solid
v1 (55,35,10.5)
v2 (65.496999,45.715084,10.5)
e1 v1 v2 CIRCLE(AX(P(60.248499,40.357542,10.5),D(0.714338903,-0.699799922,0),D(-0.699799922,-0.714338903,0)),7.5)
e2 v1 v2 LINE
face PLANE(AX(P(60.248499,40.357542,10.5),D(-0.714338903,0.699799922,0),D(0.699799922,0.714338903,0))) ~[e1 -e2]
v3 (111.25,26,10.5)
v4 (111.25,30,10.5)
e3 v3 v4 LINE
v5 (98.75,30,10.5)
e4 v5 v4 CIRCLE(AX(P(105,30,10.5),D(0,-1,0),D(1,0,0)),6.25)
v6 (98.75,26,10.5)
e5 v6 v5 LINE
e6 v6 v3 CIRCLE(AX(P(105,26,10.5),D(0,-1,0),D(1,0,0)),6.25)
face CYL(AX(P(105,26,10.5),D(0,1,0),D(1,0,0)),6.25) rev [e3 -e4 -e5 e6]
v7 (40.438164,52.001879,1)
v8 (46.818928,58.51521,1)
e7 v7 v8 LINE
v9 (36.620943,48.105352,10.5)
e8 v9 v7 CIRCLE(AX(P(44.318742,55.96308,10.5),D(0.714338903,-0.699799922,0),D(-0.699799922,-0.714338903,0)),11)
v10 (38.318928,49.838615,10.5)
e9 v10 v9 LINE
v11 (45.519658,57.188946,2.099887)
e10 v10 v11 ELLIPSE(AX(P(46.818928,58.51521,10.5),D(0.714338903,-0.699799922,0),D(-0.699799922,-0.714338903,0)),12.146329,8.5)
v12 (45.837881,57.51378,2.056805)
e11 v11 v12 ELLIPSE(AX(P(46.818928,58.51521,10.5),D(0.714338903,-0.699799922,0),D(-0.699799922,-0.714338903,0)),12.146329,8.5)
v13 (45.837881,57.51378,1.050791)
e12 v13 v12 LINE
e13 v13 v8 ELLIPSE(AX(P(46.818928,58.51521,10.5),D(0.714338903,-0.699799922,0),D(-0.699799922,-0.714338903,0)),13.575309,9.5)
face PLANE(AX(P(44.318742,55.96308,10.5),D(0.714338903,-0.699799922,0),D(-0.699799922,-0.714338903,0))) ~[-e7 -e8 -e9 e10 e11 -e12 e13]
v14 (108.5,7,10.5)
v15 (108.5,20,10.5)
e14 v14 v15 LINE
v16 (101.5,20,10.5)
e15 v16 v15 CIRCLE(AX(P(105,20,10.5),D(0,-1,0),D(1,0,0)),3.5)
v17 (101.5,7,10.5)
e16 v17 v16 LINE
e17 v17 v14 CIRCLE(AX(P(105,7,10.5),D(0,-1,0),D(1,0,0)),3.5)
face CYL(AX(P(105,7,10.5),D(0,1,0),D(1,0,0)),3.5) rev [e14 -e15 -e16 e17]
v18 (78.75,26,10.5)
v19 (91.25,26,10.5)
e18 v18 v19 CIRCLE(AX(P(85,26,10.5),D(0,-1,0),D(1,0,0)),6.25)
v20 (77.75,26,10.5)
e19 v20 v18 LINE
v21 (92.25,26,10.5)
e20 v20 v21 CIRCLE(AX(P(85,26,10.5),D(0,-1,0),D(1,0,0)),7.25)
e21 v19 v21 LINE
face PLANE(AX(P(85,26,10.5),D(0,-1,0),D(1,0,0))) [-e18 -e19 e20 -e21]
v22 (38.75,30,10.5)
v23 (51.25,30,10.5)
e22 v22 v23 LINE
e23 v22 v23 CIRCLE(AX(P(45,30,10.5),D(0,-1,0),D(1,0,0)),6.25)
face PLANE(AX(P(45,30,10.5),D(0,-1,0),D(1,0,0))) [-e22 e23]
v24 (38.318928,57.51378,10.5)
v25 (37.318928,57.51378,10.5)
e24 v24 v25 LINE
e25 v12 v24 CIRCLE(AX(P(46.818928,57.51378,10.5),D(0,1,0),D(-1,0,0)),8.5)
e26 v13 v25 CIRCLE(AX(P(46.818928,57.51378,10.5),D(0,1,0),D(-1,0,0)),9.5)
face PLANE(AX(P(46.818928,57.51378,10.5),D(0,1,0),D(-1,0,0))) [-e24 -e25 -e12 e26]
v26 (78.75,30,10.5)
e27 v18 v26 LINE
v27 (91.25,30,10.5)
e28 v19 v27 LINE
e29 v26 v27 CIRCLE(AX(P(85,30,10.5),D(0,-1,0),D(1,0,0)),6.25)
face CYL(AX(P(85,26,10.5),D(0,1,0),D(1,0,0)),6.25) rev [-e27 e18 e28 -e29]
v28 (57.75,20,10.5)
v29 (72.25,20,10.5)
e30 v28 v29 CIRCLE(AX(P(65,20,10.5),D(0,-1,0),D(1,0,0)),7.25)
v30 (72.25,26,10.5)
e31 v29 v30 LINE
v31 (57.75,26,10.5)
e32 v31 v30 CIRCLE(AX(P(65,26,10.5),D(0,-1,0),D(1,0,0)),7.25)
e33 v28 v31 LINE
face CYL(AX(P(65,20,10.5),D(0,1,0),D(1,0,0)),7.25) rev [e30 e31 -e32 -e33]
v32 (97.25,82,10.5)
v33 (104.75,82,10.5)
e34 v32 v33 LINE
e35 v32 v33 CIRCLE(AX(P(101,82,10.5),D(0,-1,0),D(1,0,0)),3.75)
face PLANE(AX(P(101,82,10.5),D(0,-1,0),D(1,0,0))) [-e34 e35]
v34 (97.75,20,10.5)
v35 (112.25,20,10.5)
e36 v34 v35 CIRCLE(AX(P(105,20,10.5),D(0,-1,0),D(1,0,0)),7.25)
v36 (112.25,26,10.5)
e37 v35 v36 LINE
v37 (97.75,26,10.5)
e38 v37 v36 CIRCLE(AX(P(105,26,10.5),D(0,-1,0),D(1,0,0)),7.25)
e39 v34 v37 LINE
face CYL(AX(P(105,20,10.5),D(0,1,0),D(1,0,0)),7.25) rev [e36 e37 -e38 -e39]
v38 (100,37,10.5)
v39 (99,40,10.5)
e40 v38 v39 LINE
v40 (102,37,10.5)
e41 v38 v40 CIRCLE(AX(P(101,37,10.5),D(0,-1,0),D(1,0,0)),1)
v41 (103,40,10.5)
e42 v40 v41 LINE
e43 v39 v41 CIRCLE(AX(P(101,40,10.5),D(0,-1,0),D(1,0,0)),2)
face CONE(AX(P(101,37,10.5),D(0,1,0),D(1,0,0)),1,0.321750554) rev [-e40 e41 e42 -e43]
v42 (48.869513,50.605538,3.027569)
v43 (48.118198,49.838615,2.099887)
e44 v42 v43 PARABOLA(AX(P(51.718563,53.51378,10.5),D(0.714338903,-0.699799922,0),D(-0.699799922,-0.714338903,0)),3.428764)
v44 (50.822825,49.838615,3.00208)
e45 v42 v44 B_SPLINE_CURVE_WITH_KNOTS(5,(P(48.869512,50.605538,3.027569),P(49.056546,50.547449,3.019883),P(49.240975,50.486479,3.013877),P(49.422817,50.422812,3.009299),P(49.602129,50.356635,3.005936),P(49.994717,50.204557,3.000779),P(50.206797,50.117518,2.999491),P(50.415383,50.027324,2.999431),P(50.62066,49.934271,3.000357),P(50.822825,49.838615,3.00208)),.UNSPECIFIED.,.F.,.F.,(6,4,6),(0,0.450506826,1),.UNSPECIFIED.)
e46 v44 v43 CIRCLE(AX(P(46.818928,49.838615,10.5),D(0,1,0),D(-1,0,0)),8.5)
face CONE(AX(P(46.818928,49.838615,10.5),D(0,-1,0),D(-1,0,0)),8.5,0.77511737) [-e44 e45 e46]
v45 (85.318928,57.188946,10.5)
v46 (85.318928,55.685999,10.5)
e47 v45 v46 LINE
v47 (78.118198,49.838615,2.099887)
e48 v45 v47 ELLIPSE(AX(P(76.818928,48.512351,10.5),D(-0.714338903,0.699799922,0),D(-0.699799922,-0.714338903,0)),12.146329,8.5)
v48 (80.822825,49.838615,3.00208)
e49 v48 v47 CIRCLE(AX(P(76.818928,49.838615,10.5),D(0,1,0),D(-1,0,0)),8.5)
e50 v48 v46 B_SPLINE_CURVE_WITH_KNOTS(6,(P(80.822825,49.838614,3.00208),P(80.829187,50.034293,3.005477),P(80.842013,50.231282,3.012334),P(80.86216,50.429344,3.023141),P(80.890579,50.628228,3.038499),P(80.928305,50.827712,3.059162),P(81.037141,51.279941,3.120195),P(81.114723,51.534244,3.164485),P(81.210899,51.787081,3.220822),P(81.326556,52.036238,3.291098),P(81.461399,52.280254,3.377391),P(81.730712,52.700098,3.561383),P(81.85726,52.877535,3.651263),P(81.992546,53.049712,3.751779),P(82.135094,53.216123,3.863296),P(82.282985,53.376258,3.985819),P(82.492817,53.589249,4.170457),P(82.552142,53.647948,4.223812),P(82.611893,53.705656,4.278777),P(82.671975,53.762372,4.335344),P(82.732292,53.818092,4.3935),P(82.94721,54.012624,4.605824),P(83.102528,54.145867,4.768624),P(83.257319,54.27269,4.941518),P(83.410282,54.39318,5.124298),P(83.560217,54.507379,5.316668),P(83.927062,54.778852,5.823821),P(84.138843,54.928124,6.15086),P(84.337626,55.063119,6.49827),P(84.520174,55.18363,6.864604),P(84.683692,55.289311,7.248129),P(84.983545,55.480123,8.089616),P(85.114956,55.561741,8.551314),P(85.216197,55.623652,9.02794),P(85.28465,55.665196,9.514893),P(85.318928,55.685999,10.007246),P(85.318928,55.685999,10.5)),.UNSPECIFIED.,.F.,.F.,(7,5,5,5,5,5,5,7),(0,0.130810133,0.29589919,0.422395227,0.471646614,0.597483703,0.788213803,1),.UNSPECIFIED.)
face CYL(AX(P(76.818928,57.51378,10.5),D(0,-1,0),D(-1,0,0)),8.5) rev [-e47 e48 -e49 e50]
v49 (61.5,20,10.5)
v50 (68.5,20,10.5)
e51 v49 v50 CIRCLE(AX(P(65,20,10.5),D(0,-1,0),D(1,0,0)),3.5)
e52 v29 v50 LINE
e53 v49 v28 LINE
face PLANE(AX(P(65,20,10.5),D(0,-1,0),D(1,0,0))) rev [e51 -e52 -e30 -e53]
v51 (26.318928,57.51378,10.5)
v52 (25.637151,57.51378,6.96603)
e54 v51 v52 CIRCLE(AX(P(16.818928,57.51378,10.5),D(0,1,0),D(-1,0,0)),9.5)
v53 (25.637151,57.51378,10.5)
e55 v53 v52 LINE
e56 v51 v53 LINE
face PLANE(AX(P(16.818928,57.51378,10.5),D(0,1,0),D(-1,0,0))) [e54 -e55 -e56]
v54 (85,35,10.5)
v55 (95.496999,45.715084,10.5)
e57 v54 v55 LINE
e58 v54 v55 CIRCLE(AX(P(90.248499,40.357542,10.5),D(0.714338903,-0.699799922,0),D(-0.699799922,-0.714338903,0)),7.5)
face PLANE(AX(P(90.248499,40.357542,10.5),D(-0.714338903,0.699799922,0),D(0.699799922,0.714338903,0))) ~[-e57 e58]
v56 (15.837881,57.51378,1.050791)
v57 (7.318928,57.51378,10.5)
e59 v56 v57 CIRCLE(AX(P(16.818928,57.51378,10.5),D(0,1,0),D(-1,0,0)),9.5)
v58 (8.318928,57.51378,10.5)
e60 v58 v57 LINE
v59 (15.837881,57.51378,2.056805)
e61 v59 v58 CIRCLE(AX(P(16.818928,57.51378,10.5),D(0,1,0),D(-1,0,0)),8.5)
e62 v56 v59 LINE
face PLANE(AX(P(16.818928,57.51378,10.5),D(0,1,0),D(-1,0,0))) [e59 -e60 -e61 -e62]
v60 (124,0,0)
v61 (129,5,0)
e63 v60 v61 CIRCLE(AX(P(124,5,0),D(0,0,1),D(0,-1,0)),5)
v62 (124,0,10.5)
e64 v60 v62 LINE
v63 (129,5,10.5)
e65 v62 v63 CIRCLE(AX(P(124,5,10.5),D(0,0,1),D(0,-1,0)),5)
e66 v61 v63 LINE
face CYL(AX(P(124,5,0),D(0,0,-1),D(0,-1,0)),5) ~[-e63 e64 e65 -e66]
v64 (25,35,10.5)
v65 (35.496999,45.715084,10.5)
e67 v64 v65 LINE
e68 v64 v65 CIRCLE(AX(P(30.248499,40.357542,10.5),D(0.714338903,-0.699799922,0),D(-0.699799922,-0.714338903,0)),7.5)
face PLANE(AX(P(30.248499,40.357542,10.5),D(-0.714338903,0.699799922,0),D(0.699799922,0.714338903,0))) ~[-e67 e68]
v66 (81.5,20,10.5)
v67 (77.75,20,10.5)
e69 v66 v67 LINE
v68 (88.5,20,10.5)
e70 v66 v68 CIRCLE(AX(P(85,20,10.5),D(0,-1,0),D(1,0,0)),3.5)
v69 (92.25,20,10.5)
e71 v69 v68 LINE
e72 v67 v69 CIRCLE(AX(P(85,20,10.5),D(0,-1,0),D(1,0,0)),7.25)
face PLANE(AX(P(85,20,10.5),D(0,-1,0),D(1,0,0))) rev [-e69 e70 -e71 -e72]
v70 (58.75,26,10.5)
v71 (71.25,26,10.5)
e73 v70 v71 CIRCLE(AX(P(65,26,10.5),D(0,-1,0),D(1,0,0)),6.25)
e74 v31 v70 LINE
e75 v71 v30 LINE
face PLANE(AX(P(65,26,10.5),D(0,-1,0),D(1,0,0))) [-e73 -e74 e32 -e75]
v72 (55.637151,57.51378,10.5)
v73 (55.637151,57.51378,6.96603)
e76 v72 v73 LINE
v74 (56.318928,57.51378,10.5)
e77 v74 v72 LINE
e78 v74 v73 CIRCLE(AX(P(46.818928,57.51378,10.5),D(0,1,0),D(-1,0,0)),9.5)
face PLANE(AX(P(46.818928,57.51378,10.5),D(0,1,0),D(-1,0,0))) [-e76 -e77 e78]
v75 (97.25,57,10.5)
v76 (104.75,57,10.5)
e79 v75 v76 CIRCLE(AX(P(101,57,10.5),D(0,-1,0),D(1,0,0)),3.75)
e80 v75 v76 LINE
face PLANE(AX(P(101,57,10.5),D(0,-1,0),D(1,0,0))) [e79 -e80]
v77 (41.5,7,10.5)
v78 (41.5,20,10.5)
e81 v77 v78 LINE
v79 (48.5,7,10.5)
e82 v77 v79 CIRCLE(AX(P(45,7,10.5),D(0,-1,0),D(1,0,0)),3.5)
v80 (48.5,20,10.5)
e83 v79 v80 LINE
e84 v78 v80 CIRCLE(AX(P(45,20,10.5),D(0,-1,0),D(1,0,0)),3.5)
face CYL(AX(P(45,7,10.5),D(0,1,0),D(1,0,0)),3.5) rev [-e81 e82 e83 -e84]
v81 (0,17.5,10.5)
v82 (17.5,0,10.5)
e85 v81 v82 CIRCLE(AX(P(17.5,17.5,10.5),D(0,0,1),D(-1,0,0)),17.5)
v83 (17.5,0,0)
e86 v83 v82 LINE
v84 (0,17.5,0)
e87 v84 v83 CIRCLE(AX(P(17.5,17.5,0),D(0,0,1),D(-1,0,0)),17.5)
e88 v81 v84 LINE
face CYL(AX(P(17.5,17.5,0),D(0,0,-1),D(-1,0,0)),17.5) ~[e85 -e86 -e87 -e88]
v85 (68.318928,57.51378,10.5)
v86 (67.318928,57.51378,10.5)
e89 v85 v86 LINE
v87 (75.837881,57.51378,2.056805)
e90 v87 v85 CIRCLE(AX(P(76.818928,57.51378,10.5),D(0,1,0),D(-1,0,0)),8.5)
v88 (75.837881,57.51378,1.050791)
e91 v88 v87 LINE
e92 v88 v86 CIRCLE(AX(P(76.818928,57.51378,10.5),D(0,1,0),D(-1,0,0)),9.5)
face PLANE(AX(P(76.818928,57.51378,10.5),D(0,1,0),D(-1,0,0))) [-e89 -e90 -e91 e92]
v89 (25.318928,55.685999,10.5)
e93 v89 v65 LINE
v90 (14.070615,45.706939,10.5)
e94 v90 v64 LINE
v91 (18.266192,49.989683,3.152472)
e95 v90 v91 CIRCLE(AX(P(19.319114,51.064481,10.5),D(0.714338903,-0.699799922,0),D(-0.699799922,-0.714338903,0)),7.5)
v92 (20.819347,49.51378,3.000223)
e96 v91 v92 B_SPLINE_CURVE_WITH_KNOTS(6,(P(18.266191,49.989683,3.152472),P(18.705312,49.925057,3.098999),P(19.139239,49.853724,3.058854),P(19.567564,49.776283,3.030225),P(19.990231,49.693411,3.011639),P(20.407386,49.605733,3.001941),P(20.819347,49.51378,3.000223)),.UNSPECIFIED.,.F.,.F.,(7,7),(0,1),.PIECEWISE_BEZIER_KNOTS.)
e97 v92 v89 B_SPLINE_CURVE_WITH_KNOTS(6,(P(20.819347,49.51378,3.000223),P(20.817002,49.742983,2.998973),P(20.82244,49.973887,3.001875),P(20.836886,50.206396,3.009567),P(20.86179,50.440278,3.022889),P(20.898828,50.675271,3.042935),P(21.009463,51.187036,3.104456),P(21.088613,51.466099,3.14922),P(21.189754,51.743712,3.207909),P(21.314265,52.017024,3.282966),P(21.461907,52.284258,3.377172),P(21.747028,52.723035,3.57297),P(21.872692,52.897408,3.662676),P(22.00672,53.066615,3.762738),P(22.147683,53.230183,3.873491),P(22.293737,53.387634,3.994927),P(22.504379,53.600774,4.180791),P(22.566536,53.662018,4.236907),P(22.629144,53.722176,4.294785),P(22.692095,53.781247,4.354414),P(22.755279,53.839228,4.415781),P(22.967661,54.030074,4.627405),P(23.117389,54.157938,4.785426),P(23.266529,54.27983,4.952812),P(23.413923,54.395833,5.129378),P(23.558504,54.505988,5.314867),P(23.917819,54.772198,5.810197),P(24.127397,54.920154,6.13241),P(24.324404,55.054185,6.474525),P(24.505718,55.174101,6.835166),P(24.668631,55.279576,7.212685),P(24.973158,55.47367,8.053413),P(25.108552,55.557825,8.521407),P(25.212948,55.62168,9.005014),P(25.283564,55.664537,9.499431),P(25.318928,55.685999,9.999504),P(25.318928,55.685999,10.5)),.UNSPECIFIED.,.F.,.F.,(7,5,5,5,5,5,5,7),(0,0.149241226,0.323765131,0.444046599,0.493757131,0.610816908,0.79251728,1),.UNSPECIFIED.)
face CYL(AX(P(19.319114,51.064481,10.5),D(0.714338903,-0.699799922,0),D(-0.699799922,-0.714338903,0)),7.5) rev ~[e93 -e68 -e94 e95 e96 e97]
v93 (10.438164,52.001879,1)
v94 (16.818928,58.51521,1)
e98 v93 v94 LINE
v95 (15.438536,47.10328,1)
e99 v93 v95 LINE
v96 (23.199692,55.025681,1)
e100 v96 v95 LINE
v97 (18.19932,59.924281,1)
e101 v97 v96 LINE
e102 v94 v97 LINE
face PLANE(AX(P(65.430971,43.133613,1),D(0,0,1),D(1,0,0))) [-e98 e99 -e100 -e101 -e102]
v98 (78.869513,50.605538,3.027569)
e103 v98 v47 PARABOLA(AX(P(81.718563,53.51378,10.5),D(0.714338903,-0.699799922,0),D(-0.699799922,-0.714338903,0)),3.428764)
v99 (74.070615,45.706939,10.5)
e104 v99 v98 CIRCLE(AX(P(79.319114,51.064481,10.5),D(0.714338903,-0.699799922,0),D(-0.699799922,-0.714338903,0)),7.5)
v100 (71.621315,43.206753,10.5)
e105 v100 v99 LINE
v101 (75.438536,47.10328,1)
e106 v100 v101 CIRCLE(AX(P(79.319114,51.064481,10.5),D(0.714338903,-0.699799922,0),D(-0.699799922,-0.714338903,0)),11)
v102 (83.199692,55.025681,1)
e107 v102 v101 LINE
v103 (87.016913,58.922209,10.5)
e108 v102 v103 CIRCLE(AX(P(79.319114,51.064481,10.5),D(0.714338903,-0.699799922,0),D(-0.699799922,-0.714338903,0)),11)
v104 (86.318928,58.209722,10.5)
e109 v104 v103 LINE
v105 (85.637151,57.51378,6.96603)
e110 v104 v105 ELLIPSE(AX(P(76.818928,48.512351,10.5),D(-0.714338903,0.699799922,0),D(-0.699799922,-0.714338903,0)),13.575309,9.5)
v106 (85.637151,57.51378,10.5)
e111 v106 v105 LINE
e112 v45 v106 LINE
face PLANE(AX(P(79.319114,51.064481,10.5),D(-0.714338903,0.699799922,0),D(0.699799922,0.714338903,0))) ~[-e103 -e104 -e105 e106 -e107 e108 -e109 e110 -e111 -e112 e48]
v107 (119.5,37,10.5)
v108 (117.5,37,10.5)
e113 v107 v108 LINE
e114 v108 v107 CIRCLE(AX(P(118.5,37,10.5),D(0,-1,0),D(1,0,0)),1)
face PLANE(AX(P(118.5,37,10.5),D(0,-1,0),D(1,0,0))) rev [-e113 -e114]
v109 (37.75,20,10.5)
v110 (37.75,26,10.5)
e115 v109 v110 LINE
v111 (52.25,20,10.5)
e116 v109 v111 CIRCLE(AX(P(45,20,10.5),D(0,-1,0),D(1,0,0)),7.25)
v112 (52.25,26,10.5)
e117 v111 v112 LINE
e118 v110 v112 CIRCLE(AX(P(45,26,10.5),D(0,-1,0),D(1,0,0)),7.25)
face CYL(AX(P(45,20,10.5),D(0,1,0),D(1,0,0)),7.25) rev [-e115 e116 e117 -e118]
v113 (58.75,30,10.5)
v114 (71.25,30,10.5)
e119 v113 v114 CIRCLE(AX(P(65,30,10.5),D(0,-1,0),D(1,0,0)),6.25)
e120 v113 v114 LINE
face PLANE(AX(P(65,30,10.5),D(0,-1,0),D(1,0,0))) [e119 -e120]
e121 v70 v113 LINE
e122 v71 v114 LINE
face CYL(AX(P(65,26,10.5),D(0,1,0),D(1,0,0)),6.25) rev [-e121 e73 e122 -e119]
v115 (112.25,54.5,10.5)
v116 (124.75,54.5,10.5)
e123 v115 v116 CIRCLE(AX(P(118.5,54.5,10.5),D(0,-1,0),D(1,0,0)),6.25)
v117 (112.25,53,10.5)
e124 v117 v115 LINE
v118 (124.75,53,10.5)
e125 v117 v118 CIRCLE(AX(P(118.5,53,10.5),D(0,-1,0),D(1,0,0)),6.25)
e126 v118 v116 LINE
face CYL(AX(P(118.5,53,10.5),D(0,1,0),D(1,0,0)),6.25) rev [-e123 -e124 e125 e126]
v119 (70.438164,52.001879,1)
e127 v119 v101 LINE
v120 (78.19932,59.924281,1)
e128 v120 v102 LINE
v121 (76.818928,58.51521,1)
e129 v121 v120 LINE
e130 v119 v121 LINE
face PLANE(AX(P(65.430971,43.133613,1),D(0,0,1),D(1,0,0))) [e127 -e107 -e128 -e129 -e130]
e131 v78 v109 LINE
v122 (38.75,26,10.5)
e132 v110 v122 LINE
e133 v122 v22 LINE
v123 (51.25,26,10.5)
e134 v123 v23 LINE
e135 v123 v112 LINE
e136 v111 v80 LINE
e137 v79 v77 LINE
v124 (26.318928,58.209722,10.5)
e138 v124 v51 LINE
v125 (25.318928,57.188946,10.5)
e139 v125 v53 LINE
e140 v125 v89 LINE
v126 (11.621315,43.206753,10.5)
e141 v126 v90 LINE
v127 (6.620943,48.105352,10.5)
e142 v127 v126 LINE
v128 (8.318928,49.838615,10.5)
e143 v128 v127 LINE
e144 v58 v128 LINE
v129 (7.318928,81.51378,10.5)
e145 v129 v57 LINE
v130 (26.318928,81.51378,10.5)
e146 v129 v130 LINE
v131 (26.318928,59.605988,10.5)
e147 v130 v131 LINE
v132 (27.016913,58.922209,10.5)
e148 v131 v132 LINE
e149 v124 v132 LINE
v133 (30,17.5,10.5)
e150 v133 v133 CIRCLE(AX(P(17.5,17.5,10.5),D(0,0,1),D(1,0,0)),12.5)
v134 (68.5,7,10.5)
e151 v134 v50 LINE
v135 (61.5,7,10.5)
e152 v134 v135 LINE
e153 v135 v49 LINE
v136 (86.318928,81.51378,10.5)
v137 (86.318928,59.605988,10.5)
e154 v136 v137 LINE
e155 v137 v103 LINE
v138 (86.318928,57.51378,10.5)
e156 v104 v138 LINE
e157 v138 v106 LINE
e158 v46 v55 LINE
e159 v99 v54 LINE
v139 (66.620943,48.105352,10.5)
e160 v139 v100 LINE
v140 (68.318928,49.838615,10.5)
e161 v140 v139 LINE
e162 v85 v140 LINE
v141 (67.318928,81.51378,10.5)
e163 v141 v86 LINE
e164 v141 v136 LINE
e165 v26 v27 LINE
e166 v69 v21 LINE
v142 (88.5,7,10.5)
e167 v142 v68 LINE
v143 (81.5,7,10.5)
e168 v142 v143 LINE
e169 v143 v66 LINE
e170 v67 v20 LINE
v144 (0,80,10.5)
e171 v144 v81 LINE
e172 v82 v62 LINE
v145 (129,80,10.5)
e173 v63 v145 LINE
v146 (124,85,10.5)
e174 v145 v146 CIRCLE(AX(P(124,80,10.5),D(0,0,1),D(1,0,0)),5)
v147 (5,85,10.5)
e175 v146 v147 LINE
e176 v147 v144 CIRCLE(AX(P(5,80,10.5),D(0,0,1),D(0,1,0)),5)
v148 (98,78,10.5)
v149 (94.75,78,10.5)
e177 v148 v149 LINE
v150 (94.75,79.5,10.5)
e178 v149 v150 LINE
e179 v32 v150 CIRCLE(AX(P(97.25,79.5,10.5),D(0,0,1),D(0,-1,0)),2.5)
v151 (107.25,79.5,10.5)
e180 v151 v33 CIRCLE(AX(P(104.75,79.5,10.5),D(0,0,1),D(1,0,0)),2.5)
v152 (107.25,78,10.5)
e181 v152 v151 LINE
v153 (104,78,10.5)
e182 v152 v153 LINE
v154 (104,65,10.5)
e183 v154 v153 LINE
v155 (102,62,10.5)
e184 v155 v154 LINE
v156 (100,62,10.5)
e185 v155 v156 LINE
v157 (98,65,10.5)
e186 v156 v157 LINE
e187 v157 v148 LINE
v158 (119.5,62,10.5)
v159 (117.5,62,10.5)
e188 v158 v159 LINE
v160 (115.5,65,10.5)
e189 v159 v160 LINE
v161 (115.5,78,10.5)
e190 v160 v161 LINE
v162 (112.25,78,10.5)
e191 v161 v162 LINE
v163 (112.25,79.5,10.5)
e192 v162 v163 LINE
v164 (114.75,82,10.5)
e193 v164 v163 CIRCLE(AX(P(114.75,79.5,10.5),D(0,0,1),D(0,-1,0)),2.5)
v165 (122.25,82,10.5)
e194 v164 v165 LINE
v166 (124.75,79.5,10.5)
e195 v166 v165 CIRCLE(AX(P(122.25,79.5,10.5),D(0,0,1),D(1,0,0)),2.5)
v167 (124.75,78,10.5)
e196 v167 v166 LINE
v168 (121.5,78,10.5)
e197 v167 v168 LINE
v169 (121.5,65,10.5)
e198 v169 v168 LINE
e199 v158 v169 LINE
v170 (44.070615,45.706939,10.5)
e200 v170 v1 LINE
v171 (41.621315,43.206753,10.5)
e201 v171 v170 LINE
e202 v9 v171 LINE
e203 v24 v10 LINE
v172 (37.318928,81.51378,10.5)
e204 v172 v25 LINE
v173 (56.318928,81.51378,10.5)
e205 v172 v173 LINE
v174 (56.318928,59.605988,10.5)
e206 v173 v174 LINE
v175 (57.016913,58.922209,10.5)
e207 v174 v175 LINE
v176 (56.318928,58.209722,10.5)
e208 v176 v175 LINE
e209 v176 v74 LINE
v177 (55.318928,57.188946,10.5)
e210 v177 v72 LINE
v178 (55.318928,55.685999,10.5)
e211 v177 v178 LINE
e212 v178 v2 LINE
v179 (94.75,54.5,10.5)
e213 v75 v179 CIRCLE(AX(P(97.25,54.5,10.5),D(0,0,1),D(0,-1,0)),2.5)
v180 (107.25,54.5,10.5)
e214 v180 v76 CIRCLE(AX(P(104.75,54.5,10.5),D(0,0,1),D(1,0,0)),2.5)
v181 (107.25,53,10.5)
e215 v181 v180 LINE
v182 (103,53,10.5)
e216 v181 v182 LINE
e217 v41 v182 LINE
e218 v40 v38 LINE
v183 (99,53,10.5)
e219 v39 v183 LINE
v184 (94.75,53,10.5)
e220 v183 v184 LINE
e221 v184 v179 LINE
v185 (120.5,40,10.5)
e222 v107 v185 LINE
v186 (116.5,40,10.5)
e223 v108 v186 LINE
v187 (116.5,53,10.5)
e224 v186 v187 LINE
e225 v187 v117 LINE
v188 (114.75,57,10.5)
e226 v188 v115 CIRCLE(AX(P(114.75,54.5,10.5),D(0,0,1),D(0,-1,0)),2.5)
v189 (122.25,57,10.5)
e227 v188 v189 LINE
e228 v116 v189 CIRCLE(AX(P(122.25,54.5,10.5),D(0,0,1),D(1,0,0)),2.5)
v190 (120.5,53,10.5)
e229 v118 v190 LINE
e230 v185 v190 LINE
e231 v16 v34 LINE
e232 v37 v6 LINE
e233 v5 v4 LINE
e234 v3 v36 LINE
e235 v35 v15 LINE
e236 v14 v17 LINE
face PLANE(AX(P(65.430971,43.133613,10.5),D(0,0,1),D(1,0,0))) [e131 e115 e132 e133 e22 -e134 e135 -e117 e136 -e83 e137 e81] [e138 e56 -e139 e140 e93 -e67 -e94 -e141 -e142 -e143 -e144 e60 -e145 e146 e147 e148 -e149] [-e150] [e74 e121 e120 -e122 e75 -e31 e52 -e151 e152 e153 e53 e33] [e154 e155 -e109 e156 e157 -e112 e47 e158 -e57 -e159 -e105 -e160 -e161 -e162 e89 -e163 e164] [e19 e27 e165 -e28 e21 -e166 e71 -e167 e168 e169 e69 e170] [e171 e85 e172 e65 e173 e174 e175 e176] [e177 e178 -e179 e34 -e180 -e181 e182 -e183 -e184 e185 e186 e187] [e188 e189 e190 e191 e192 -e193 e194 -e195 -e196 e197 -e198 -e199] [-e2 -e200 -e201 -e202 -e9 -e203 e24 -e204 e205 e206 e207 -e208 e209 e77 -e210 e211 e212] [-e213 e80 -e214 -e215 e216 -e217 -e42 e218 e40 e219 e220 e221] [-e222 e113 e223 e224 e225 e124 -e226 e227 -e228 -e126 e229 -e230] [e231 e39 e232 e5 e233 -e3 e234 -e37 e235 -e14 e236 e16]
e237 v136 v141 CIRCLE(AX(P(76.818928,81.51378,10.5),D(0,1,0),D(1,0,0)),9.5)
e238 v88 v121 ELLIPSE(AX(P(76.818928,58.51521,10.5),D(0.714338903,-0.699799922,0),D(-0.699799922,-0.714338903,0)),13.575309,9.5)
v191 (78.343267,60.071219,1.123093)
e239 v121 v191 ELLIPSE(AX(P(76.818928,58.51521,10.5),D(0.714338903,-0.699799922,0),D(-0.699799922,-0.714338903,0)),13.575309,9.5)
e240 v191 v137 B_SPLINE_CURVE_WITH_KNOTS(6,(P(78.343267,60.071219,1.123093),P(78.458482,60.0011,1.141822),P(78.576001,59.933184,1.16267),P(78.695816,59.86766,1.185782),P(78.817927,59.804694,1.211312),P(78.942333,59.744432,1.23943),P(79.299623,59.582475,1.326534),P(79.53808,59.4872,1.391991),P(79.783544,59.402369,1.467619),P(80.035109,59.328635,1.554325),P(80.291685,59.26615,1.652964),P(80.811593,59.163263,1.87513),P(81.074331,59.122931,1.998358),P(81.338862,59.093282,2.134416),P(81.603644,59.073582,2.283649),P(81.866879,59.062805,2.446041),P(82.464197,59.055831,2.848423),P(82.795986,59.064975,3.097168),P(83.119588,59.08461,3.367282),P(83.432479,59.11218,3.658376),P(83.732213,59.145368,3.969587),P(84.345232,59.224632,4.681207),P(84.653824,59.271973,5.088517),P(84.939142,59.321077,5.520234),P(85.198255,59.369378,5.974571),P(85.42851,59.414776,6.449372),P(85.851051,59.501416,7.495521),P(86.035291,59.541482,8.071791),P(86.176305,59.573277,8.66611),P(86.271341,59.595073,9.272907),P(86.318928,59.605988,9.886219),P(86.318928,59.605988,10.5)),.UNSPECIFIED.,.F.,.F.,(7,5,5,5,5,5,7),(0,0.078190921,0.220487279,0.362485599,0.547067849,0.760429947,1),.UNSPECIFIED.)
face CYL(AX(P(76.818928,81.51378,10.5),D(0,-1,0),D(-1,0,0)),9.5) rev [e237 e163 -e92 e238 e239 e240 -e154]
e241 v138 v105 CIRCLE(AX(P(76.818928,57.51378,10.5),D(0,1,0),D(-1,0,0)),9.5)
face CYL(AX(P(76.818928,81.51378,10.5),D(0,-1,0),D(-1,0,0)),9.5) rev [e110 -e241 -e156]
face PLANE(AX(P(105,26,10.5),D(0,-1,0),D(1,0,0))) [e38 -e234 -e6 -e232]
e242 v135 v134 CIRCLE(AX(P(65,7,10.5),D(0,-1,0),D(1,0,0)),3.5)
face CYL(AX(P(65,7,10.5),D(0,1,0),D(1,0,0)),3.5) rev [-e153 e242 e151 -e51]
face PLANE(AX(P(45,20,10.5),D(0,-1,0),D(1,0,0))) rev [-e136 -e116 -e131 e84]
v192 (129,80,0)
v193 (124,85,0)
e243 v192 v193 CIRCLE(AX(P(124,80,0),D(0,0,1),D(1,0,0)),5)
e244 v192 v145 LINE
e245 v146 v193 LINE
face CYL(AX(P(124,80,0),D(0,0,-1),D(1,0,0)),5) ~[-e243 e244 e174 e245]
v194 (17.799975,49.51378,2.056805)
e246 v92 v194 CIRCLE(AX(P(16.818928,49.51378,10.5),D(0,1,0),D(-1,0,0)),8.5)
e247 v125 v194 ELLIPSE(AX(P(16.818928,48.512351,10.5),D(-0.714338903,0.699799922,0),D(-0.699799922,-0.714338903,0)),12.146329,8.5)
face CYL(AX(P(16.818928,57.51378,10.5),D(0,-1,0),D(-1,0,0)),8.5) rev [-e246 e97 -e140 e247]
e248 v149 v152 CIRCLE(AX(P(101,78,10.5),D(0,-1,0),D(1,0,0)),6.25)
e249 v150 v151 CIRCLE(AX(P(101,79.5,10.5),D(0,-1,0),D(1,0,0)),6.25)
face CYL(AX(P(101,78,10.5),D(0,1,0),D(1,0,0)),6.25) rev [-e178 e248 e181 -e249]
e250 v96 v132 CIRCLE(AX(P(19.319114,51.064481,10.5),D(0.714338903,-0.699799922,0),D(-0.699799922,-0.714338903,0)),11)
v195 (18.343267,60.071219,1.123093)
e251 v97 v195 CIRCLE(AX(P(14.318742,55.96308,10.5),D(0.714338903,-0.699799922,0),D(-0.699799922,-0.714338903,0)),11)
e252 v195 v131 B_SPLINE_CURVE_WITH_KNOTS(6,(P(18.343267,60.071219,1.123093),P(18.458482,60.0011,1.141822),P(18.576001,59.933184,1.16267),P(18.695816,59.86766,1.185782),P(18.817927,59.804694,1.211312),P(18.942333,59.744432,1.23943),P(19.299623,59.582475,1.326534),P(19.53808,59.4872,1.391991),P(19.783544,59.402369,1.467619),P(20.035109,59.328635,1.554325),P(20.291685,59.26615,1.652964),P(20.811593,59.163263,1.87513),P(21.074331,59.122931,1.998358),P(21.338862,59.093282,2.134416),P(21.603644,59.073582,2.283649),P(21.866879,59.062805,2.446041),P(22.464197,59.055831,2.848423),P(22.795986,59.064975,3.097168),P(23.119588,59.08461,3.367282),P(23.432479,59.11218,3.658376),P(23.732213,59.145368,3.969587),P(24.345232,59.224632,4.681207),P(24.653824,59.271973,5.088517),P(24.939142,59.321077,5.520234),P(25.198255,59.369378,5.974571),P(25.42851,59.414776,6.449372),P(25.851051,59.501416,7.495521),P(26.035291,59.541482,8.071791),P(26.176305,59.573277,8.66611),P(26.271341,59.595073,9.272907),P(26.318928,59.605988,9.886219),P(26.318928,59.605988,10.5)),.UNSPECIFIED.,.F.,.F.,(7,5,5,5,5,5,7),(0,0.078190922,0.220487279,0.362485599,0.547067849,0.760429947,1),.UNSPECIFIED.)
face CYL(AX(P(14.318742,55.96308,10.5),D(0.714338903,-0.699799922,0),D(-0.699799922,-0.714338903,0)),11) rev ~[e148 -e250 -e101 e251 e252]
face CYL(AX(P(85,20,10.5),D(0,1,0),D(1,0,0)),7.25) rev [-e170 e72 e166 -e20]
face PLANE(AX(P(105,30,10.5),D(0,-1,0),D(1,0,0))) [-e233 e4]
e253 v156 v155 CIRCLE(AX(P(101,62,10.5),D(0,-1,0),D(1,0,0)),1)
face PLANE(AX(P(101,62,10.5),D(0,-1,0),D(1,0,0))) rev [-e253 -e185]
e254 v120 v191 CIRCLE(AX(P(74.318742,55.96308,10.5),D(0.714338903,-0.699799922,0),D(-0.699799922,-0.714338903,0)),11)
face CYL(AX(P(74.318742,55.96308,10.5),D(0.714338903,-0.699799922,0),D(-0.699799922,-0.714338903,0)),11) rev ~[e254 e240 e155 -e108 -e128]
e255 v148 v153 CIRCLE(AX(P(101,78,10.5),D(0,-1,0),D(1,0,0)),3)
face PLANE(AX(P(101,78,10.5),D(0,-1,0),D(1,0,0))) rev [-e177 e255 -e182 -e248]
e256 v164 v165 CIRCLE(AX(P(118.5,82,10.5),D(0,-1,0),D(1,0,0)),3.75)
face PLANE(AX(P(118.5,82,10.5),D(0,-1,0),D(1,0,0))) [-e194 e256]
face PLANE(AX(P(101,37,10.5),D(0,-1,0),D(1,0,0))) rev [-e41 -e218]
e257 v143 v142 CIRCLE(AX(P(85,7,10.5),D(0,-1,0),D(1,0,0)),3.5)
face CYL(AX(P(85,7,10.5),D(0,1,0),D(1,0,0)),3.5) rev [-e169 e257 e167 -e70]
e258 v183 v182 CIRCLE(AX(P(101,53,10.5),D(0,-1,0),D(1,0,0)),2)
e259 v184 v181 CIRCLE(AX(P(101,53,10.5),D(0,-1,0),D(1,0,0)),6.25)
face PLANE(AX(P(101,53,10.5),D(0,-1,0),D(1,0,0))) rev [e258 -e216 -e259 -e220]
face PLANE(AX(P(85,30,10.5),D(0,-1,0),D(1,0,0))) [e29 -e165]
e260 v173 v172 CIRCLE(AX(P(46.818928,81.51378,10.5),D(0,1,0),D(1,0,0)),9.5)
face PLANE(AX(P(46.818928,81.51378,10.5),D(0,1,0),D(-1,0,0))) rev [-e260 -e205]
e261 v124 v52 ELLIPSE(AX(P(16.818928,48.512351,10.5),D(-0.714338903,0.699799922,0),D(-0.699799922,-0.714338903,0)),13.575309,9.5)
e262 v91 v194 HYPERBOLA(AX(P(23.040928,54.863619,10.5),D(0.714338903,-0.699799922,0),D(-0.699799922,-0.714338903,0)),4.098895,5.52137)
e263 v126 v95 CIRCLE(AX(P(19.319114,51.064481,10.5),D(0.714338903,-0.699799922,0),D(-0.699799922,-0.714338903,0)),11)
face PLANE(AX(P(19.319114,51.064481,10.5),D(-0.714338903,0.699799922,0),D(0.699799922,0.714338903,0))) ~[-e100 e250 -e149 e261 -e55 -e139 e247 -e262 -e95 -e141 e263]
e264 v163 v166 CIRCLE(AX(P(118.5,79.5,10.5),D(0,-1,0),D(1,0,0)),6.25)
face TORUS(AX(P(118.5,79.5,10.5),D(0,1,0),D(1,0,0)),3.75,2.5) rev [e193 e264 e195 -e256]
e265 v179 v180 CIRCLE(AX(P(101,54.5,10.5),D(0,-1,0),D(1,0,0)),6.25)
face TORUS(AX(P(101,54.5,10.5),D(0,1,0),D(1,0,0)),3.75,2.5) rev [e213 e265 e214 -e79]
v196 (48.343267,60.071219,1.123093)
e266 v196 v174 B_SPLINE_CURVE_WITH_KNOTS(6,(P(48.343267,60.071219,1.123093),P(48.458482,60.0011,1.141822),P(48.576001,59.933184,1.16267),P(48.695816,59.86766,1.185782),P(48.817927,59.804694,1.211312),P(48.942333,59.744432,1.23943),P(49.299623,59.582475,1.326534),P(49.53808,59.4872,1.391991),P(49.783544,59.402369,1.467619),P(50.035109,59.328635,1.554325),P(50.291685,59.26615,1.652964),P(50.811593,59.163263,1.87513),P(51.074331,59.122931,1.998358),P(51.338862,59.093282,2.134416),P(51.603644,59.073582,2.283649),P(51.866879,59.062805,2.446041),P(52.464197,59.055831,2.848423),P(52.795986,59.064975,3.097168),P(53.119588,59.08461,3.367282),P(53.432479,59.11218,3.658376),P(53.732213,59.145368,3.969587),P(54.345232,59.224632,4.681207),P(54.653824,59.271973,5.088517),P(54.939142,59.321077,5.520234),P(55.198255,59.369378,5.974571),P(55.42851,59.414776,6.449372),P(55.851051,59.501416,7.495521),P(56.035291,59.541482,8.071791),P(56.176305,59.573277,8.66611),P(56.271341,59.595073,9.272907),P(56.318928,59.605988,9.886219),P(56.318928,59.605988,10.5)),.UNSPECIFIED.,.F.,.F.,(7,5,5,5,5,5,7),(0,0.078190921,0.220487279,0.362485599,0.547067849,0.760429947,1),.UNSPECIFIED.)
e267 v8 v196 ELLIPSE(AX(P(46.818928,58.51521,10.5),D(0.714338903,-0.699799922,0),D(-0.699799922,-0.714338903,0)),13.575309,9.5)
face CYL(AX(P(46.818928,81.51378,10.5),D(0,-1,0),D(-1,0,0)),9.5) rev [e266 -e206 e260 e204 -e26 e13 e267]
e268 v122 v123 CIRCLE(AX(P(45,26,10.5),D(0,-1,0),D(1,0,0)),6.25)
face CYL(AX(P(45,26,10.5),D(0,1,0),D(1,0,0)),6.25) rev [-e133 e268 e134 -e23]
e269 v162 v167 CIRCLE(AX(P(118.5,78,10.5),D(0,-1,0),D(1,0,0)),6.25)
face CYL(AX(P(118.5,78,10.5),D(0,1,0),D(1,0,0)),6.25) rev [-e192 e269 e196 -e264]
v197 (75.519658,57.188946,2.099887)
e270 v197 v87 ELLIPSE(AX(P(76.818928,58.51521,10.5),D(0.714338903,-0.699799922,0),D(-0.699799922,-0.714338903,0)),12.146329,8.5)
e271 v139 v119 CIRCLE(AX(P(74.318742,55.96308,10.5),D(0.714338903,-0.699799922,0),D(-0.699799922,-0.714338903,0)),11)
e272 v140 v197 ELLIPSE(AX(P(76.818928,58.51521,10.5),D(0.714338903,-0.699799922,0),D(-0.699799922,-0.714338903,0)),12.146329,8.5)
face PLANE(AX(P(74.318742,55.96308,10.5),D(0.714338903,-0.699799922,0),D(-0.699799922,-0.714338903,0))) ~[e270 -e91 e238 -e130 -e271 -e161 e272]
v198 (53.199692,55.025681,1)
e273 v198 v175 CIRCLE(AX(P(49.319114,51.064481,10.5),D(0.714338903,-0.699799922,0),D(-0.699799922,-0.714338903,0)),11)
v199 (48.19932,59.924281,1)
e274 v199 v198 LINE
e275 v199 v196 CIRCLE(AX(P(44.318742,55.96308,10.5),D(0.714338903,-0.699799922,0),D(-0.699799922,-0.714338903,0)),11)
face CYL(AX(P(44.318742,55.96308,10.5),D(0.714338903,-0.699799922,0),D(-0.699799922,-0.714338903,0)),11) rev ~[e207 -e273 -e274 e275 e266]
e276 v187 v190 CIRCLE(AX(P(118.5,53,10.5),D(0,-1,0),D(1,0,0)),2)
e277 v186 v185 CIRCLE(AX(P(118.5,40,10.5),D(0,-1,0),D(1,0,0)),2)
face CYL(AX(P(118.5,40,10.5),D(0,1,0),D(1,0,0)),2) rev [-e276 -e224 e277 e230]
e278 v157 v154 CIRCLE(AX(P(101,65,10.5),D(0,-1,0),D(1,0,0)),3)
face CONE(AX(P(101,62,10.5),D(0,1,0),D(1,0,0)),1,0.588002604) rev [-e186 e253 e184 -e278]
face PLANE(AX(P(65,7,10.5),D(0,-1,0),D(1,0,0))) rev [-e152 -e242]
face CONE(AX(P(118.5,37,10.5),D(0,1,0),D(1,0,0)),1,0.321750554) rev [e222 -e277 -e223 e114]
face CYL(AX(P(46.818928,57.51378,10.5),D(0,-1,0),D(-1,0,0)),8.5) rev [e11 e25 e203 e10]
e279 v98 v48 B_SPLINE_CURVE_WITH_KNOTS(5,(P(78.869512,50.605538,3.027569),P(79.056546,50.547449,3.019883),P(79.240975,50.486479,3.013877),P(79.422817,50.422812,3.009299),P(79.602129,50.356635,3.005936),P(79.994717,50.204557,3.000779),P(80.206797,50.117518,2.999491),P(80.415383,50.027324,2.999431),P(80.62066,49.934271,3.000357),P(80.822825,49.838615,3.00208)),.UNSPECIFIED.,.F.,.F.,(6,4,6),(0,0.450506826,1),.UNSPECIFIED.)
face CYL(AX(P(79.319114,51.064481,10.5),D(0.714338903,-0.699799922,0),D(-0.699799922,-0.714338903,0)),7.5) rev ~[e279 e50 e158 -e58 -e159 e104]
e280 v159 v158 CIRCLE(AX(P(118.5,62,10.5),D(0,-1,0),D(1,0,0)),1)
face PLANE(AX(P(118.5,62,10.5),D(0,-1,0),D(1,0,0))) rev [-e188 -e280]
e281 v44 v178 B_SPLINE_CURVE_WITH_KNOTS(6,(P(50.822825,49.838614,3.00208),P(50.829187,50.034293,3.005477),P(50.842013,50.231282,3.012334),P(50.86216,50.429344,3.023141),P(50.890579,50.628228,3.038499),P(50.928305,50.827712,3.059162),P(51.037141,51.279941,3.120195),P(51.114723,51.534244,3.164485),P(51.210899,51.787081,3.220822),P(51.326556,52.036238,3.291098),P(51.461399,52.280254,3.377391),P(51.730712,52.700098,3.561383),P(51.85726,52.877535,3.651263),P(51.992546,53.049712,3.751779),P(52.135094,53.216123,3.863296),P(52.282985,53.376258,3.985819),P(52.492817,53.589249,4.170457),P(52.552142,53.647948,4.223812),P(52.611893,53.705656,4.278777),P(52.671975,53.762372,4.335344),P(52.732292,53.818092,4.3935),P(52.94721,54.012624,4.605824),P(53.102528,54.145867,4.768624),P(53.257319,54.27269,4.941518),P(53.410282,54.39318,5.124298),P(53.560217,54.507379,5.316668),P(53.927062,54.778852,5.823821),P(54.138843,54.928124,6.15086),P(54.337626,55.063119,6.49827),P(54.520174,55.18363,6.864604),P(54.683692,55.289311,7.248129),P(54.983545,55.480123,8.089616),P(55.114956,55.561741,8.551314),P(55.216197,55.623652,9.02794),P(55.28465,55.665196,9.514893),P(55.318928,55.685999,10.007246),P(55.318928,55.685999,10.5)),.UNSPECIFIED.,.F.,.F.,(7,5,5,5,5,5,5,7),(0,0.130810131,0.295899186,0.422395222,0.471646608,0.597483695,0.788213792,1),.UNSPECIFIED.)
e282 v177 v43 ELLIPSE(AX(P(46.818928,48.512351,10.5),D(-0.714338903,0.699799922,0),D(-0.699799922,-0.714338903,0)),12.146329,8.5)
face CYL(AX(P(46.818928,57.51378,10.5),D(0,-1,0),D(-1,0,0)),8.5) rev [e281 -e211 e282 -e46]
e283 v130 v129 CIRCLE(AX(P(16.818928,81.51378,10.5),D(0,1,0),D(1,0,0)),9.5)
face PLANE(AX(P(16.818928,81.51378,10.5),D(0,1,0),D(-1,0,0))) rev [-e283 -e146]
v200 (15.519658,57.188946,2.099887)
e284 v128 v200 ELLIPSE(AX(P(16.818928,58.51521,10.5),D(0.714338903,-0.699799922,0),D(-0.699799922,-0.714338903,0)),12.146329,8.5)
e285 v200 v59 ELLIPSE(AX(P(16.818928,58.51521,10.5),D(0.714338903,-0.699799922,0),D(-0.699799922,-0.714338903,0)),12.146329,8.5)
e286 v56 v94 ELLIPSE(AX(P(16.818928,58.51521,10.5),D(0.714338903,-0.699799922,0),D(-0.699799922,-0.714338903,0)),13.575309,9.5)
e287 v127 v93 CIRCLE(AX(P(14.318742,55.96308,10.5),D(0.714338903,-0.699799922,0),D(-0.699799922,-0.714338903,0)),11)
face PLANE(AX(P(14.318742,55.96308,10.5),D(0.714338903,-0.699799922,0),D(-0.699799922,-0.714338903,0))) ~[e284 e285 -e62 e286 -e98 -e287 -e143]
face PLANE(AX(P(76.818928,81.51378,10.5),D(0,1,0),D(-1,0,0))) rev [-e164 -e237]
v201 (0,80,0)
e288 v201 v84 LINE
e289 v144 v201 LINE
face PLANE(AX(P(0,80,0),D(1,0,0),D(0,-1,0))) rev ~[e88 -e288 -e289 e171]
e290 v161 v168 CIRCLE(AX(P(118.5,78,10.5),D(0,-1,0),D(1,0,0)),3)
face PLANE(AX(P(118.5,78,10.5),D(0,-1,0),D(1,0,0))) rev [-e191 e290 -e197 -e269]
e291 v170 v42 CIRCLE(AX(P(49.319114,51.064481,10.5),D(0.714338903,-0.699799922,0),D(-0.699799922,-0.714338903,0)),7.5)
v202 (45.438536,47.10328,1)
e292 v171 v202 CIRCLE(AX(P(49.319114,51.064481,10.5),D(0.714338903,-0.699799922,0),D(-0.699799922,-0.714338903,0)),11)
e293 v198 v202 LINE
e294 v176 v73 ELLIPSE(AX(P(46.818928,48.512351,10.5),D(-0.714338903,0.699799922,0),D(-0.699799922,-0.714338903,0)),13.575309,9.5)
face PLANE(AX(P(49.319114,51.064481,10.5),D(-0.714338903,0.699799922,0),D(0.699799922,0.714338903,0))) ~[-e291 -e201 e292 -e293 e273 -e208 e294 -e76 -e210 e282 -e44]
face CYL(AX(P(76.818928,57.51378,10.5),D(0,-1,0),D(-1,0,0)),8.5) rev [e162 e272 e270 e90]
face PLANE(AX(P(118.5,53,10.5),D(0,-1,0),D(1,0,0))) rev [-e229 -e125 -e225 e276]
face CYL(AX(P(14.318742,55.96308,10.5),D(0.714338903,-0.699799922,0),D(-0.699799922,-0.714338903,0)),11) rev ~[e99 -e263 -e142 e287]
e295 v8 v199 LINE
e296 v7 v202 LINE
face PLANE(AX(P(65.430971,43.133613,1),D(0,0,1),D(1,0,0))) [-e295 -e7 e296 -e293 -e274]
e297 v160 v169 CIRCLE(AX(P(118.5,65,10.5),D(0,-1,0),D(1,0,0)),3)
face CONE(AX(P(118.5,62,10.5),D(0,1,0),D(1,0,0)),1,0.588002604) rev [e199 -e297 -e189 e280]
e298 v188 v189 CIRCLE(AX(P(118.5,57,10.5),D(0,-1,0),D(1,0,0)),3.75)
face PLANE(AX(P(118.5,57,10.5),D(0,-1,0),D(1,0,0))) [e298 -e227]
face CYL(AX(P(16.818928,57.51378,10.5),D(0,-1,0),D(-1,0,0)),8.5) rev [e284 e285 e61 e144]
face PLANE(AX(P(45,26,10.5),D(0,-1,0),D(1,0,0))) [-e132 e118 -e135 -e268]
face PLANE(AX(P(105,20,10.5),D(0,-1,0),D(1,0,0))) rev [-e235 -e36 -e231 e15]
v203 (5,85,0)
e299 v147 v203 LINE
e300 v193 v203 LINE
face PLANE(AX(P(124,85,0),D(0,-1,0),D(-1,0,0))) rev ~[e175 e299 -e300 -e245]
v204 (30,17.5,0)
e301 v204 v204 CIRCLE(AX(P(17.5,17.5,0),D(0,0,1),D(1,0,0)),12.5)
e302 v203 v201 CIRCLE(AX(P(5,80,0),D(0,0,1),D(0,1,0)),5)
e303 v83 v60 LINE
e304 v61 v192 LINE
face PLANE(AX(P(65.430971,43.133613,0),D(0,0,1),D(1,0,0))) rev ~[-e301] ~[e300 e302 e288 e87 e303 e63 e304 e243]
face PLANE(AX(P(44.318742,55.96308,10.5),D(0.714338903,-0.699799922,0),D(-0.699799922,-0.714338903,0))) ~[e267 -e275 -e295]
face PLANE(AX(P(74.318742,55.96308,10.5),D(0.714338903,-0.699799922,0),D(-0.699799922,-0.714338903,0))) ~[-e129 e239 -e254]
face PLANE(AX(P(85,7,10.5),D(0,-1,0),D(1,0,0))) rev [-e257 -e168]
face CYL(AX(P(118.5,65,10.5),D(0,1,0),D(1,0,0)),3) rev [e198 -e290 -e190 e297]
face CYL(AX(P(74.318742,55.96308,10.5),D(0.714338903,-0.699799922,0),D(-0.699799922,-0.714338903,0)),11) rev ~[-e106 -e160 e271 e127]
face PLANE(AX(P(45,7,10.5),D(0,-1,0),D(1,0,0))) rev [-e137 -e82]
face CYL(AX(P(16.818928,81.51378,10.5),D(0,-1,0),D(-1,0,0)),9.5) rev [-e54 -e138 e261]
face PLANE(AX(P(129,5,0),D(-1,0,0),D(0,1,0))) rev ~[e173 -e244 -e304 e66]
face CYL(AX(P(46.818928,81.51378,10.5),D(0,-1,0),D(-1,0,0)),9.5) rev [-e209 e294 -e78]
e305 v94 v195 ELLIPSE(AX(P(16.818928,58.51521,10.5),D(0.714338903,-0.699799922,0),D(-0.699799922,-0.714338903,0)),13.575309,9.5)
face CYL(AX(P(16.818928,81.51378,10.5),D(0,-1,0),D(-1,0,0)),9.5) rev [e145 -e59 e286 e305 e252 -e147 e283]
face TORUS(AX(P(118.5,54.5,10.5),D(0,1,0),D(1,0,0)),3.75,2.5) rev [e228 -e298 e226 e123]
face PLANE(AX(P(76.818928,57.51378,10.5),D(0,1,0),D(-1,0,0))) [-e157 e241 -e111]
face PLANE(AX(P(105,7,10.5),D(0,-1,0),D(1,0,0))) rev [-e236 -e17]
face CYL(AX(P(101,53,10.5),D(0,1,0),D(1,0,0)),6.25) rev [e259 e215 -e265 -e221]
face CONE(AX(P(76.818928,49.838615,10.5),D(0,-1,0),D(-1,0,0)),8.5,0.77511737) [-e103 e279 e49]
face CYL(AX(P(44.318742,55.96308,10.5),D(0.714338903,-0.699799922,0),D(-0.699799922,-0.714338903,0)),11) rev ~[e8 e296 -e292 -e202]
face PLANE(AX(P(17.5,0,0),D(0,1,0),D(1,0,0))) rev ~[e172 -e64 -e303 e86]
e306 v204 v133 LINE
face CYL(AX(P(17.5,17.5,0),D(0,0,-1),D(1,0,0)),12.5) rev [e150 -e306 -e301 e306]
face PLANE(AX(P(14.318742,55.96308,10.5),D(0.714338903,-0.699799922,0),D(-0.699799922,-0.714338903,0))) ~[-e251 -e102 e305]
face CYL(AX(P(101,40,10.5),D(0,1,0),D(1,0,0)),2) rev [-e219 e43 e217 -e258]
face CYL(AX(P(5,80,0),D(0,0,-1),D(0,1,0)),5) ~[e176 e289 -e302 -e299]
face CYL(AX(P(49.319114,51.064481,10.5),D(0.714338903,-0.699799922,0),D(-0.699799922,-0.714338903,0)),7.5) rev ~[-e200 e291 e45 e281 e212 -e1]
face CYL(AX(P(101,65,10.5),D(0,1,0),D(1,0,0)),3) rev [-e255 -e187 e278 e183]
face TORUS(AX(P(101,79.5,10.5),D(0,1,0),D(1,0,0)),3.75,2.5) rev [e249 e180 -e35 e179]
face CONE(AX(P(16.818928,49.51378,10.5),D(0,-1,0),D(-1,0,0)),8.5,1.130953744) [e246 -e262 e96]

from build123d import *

# Parameters (mm, degrees)
F0_R      = 12.5
F1_DEPTH  = 10.5
F10_START = -9.5
F9_R      = 12.5
F10_DEPTH = 1


with BuildPart() as f1:
    # F0 (on Top) → F1 (new body)
    with BuildSketch(Plane.XY):
        with BuildLine():
            ThreePointArc((0, 17.5), (5.1256313292, 5.1256313292), (17.5, 0))
            Line((17.5, 0), (124, 0))
            ThreePointArc((124, 0), (127.5355339059, 1.4644660941), (129, 5))
            Line((129, 5), (129, 80))
            ThreePointArc((129, 80), (127.5355339059, 83.5355339059), (124, 85))
            Line((124, 85), (5, 85))
            ThreePointArc((5, 85), (1.4644660941, 83.5355339059), (0, 80))
            Line((0, 80), (0, 17.5))
        make_face()
        with Locations((17.5, 17.5)):
            Circle(F0_R, mode=Mode.SUBTRACT)
    extrude(amount=F1_DEPTH)

    # F2 (on face) → F3 (revolve, cut)
    with BuildSketch(Plane.XY.offset(10.5)):
        Polygon((14.3187418757, 55.9630800428), (16.818928037, 53.5137803146), (16.818928037, 81.5137803146), (7.318928037, 81.5137803146), (7.318928037, 57.5137803146), (8.318928037, 57.5137803146), (8.318928037, 53.1566108629), (8.318928037, 49.8386146061), align=None)
        Polygon((8.318928037, 49.5137803146), (16.818928037, 53.5137803146), (14.3187418757, 55.9630800428), (8.318928037, 49.8386146061), align=None)
    revolve(axis=Axis((16.818928037, 67.5137803146, 10.5), (0, 1, 0)), mode=Mode.SUBTRACT)

    # F2 (on face) → F4 (revolve, cut)
    with BuildSketch(Plane.XY.offset(10.5)):
        Polygon((44.3187418757, 55.9630800428), (46.818928037, 53.5137803146), (46.818928037, 81.5137803146), (37.318928037, 81.5137803146), (37.318928037, 57.5137803146), (38.318928037, 57.5137803146), (38.318928037, 49.8386146061), align=None)
    revolve(axis=Axis((46.818928037, 67.5137803146, 10.5), (0, 1, 0)), mode=Mode.SUBTRACT)

    # F2 (on face) → F5 (revolve, cut)
    with BuildSketch(Plane.XY.offset(10.5)):
        Polygon((74.3187418757, 55.9630800428), (76.818928037, 53.5137803146), (76.818928037, 81.5137803146), (67.318928037, 81.5137803146), (67.318928037, 57.5137803146), (68.318928037, 57.5137803146), (68.318928037, 49.8386146061), align=None)
    revolve(axis=Axis((76.818928037, 67.5137803146, 10.5), (0, 1, 0)), mode=Mode.SUBTRACT)

    # F2 (on face) → F6 (revolve, cut)
    with BuildSketch(Plane.XY.offset(10.5)):
        Polygon((14.0706147806, 45.7069388121), (25, 35), (30.2484994177, 40.3575417742), (16.818928037, 53.5137803146), (8.318928037, 49.5137803146), (8.318928037, 49.8386146061), (6.6209427297, 48.1053521073), (11.6213150523, 43.2067526508), align=None)
        Polygon((8.318928037, 49.5137803146), (16.818928037, 53.5137803146), (14.3187418757, 55.9630800428), (8.318928037, 49.8386146061), align=None)
    revolve(axis=Axis((22.2836206467, 48.1603109085, 10.5), (0.7143389032, -0.6997999224, 0)), mode=Mode.SUBTRACT)

    # F2 (on face) → F7 (revolve, cut)
    with BuildSketch(Plane.XY.offset(10.5)):
        Polygon((60.2484994177, 40.3575417742), (46.818928037, 53.5137803146), (38.318928037, 49.5137803146), (38.318928037, 49.8386146061), (36.6209427297, 48.1053521073), (41.6213150523, 43.2067526508), (44.0706147806, 45.7069388121), (55, 35), align=None)
        Polygon((38.318928037, 49.5137803146), (46.818928037, 53.5137803146), (44.3187418757, 55.9630800428), (38.318928037, 49.8386146061), align=None)
    revolve(axis=Axis((53.5337137273, 46.9356610444, 10.5), (0.7143389032, -0.6997999224, 0)), mode=Mode.SUBTRACT)

    # F2 (on face) → F8 (revolve, cut)
    with BuildSketch(Plane.XY.offset(10.5)):
        Polygon((90.2484994177, 40.3575417742), (76.818928037, 53.5137803146), (68.318928037, 49.5137803146), (68.318928037, 49.8386146061), (66.6209427297, 48.1053521073), (71.6213150523, 43.2067526508), (74.0706147806, 45.7069388121), (85, 35), align=None)
        Polygon((68.318928037, 49.5137803146), (76.818928037, 53.5137803146), (74.3187418757, 55.9630800428), (68.318928037, 49.8386146061), align=None)
    revolve(axis=Axis((83.5337137273, 46.9356610444, 10.5), (0.7143389032, -0.6997999224, 0)), mode=Mode.SUBTRACT)

    # F9 (on face) → F10 (join)
    with BuildSketch(Plane.XY.offset(10.5).offset(F10_START)):
        with BuildLine():
            ThreePointArc((129, 80), (127.5355339059, 83.5355339059), (124, 85))
            Line((124, 85), (5, 85))
            ThreePointArc((5, 85), (1.4644660941, 83.5355339059), (0, 80))
            Line((0, 80), (0, 17.5))
            ThreePointArc((0, 17.5), (5.1256313292, 5.1256313292), (17.5, 0))
            Line((17.5, 0), (124, 0))
            ThreePointArc((124, 0), (127.5355339059, 1.4644660941), (129, 5))
            Line((129, 5), (129, 80))
        make_face()
        with Locations((17.5, 17.5)):
            Circle(F9_R, mode=Mode.SUBTRACT)
    extrude(amount=-F10_DEPTH)

    # F11 (on face) → F12 (revolve, cut)
    with BuildSketch(Plane.XY.offset(10.5)):
        with BuildLine():
            Line((104.75, 82), (101, 82))
            Line((101, 82), (101, 78))
            Line((101, 78), (101, 72))
            Line((101, 72), (101, 62))
            Line((101, 62), (102, 62))
            Line((102, 62), (104, 65))
            Line((104, 65), (104, 78))
            Line((104, 78), (107.25, 78))
            Line((107.25, 78), (107.25, 79.5))
            ThreePointArc((107.25, 79.5), (106.517766953, 81.267766953), (104.75, 82))
        make_face()
        with BuildLine():
            Line((104.75, 57), (101, 57))
            Line((101, 57), (101, 53))
            Line((101, 53), (101, 37))
            Line((101, 37), (102, 37))
            Line((102, 37), (103, 40))
            Line((103, 40), (103, 53))
            Line((103, 53), (107.25, 53))
            Line((107.25, 53), (107.25, 54.5))
            ThreePointArc((107.25, 54.5), (106.517766953, 56.267766953), (104.75, 57))
        make_face()
    revolve(axis=Axis((101, 45, 10.5), (0, -1, 0)), mode=Mode.SUBTRACT)

    # F11 (on face) → F13 (revolve, cut)
    with BuildSketch(Plane.XY.offset(10.5)):
        Polygon((121.5, 78), (118.5, 78), (118.5, 62), (119.5, 62), (121.5, 65), align=None)
        with BuildLine():
            Line((122.25, 82), (118.5, 82))
            Line((118.5, 82), (118.5, 78))
            Line((118.5, 78), (121.5, 78))
            Line((121.5, 78), (124.75, 78))
            Line((124.75, 78), (124.75, 79.5))
            ThreePointArc((124.75, 79.5), (124.017766953, 81.267766953), (122.25, 82))
        make_face()
        with BuildLine():
            Line((122.25, 57), (118.5, 57))
            Line((118.5, 57), (118.5, 53))
            Line((118.5, 53), (118.5, 37))
            Line((118.5, 37), (119.5, 37))
            Line((119.5, 37), (120.5, 40))
            Line((120.5, 40), (120.5, 53))
            Line((120.5, 53), (124.75, 53))
            Line((124.75, 53), (124.75, 54.5))
            ThreePointArc((124.75, 54.5), (124.017766953, 56.267766953), (122.25, 57))
        make_face()
    revolve(axis=Axis((118.5, 45, 10.5), (0, -1, 0)), mode=Mode.SUBTRACT)

    # F14 (on face) → F15 (revolve, cut)
    with BuildSketch(Plane.XY.offset(10.5)):
        Polygon((51.25, 30), (45, 30), (45, 26), (45, 20), (45, 17.5), (45, 7), (48.5, 7), (48.5, 20), (52.25, 20), (52.25, 26), (51.25, 26), align=None)
    revolve(axis=Axis((45, 13.5, 10.5), (0, -1, 0)), mode=Mode.SUBTRACT)

    # F14 (on face) → F16 (revolve, cut)
    with BuildSketch(Plane.XY.offset(10.5)):
        Polygon((71.25, 30), (65, 30), (65, 26), (65, 20), (65, 7), (68.5, 7), (68.5, 20), (72.25, 20), (72.25, 26), (71.25, 26), align=None)
    revolve(axis=Axis((65, 13.5, 10.5), (0, -1, 0)), mode=Mode.SUBTRACT)

    # F14 (on face) → F17 (revolve, cut)
    with BuildSketch(Plane.XY.offset(10.5)):
        Polygon((91.25, 30), (85, 30), (85, 26), (85, 20), (85, 7), (88.5, 7), (88.5, 20), (92.25, 20), (92.25, 26), (91.25, 26), align=None)
    revolve(axis=Axis((85, 13.5, 10.5), (0, -1, 0)), mode=Mode.SUBTRACT)

    # F14 (on face) → F18 (revolve, cut)
    with BuildSketch(Plane.XY.offset(10.5)):
        Polygon((111.25, 30), (105, 30), (105, 26), (105, 20), (105, 7), (108.5, 7), (108.5, 20), (112.25, 20), (112.25, 26), (111.25, 26), align=None)
    revolve(axis=Axis((105, 13.5, 10.5), (0, -1, 0)), mode=Mode.SUBTRACT)


solid = f1.part
